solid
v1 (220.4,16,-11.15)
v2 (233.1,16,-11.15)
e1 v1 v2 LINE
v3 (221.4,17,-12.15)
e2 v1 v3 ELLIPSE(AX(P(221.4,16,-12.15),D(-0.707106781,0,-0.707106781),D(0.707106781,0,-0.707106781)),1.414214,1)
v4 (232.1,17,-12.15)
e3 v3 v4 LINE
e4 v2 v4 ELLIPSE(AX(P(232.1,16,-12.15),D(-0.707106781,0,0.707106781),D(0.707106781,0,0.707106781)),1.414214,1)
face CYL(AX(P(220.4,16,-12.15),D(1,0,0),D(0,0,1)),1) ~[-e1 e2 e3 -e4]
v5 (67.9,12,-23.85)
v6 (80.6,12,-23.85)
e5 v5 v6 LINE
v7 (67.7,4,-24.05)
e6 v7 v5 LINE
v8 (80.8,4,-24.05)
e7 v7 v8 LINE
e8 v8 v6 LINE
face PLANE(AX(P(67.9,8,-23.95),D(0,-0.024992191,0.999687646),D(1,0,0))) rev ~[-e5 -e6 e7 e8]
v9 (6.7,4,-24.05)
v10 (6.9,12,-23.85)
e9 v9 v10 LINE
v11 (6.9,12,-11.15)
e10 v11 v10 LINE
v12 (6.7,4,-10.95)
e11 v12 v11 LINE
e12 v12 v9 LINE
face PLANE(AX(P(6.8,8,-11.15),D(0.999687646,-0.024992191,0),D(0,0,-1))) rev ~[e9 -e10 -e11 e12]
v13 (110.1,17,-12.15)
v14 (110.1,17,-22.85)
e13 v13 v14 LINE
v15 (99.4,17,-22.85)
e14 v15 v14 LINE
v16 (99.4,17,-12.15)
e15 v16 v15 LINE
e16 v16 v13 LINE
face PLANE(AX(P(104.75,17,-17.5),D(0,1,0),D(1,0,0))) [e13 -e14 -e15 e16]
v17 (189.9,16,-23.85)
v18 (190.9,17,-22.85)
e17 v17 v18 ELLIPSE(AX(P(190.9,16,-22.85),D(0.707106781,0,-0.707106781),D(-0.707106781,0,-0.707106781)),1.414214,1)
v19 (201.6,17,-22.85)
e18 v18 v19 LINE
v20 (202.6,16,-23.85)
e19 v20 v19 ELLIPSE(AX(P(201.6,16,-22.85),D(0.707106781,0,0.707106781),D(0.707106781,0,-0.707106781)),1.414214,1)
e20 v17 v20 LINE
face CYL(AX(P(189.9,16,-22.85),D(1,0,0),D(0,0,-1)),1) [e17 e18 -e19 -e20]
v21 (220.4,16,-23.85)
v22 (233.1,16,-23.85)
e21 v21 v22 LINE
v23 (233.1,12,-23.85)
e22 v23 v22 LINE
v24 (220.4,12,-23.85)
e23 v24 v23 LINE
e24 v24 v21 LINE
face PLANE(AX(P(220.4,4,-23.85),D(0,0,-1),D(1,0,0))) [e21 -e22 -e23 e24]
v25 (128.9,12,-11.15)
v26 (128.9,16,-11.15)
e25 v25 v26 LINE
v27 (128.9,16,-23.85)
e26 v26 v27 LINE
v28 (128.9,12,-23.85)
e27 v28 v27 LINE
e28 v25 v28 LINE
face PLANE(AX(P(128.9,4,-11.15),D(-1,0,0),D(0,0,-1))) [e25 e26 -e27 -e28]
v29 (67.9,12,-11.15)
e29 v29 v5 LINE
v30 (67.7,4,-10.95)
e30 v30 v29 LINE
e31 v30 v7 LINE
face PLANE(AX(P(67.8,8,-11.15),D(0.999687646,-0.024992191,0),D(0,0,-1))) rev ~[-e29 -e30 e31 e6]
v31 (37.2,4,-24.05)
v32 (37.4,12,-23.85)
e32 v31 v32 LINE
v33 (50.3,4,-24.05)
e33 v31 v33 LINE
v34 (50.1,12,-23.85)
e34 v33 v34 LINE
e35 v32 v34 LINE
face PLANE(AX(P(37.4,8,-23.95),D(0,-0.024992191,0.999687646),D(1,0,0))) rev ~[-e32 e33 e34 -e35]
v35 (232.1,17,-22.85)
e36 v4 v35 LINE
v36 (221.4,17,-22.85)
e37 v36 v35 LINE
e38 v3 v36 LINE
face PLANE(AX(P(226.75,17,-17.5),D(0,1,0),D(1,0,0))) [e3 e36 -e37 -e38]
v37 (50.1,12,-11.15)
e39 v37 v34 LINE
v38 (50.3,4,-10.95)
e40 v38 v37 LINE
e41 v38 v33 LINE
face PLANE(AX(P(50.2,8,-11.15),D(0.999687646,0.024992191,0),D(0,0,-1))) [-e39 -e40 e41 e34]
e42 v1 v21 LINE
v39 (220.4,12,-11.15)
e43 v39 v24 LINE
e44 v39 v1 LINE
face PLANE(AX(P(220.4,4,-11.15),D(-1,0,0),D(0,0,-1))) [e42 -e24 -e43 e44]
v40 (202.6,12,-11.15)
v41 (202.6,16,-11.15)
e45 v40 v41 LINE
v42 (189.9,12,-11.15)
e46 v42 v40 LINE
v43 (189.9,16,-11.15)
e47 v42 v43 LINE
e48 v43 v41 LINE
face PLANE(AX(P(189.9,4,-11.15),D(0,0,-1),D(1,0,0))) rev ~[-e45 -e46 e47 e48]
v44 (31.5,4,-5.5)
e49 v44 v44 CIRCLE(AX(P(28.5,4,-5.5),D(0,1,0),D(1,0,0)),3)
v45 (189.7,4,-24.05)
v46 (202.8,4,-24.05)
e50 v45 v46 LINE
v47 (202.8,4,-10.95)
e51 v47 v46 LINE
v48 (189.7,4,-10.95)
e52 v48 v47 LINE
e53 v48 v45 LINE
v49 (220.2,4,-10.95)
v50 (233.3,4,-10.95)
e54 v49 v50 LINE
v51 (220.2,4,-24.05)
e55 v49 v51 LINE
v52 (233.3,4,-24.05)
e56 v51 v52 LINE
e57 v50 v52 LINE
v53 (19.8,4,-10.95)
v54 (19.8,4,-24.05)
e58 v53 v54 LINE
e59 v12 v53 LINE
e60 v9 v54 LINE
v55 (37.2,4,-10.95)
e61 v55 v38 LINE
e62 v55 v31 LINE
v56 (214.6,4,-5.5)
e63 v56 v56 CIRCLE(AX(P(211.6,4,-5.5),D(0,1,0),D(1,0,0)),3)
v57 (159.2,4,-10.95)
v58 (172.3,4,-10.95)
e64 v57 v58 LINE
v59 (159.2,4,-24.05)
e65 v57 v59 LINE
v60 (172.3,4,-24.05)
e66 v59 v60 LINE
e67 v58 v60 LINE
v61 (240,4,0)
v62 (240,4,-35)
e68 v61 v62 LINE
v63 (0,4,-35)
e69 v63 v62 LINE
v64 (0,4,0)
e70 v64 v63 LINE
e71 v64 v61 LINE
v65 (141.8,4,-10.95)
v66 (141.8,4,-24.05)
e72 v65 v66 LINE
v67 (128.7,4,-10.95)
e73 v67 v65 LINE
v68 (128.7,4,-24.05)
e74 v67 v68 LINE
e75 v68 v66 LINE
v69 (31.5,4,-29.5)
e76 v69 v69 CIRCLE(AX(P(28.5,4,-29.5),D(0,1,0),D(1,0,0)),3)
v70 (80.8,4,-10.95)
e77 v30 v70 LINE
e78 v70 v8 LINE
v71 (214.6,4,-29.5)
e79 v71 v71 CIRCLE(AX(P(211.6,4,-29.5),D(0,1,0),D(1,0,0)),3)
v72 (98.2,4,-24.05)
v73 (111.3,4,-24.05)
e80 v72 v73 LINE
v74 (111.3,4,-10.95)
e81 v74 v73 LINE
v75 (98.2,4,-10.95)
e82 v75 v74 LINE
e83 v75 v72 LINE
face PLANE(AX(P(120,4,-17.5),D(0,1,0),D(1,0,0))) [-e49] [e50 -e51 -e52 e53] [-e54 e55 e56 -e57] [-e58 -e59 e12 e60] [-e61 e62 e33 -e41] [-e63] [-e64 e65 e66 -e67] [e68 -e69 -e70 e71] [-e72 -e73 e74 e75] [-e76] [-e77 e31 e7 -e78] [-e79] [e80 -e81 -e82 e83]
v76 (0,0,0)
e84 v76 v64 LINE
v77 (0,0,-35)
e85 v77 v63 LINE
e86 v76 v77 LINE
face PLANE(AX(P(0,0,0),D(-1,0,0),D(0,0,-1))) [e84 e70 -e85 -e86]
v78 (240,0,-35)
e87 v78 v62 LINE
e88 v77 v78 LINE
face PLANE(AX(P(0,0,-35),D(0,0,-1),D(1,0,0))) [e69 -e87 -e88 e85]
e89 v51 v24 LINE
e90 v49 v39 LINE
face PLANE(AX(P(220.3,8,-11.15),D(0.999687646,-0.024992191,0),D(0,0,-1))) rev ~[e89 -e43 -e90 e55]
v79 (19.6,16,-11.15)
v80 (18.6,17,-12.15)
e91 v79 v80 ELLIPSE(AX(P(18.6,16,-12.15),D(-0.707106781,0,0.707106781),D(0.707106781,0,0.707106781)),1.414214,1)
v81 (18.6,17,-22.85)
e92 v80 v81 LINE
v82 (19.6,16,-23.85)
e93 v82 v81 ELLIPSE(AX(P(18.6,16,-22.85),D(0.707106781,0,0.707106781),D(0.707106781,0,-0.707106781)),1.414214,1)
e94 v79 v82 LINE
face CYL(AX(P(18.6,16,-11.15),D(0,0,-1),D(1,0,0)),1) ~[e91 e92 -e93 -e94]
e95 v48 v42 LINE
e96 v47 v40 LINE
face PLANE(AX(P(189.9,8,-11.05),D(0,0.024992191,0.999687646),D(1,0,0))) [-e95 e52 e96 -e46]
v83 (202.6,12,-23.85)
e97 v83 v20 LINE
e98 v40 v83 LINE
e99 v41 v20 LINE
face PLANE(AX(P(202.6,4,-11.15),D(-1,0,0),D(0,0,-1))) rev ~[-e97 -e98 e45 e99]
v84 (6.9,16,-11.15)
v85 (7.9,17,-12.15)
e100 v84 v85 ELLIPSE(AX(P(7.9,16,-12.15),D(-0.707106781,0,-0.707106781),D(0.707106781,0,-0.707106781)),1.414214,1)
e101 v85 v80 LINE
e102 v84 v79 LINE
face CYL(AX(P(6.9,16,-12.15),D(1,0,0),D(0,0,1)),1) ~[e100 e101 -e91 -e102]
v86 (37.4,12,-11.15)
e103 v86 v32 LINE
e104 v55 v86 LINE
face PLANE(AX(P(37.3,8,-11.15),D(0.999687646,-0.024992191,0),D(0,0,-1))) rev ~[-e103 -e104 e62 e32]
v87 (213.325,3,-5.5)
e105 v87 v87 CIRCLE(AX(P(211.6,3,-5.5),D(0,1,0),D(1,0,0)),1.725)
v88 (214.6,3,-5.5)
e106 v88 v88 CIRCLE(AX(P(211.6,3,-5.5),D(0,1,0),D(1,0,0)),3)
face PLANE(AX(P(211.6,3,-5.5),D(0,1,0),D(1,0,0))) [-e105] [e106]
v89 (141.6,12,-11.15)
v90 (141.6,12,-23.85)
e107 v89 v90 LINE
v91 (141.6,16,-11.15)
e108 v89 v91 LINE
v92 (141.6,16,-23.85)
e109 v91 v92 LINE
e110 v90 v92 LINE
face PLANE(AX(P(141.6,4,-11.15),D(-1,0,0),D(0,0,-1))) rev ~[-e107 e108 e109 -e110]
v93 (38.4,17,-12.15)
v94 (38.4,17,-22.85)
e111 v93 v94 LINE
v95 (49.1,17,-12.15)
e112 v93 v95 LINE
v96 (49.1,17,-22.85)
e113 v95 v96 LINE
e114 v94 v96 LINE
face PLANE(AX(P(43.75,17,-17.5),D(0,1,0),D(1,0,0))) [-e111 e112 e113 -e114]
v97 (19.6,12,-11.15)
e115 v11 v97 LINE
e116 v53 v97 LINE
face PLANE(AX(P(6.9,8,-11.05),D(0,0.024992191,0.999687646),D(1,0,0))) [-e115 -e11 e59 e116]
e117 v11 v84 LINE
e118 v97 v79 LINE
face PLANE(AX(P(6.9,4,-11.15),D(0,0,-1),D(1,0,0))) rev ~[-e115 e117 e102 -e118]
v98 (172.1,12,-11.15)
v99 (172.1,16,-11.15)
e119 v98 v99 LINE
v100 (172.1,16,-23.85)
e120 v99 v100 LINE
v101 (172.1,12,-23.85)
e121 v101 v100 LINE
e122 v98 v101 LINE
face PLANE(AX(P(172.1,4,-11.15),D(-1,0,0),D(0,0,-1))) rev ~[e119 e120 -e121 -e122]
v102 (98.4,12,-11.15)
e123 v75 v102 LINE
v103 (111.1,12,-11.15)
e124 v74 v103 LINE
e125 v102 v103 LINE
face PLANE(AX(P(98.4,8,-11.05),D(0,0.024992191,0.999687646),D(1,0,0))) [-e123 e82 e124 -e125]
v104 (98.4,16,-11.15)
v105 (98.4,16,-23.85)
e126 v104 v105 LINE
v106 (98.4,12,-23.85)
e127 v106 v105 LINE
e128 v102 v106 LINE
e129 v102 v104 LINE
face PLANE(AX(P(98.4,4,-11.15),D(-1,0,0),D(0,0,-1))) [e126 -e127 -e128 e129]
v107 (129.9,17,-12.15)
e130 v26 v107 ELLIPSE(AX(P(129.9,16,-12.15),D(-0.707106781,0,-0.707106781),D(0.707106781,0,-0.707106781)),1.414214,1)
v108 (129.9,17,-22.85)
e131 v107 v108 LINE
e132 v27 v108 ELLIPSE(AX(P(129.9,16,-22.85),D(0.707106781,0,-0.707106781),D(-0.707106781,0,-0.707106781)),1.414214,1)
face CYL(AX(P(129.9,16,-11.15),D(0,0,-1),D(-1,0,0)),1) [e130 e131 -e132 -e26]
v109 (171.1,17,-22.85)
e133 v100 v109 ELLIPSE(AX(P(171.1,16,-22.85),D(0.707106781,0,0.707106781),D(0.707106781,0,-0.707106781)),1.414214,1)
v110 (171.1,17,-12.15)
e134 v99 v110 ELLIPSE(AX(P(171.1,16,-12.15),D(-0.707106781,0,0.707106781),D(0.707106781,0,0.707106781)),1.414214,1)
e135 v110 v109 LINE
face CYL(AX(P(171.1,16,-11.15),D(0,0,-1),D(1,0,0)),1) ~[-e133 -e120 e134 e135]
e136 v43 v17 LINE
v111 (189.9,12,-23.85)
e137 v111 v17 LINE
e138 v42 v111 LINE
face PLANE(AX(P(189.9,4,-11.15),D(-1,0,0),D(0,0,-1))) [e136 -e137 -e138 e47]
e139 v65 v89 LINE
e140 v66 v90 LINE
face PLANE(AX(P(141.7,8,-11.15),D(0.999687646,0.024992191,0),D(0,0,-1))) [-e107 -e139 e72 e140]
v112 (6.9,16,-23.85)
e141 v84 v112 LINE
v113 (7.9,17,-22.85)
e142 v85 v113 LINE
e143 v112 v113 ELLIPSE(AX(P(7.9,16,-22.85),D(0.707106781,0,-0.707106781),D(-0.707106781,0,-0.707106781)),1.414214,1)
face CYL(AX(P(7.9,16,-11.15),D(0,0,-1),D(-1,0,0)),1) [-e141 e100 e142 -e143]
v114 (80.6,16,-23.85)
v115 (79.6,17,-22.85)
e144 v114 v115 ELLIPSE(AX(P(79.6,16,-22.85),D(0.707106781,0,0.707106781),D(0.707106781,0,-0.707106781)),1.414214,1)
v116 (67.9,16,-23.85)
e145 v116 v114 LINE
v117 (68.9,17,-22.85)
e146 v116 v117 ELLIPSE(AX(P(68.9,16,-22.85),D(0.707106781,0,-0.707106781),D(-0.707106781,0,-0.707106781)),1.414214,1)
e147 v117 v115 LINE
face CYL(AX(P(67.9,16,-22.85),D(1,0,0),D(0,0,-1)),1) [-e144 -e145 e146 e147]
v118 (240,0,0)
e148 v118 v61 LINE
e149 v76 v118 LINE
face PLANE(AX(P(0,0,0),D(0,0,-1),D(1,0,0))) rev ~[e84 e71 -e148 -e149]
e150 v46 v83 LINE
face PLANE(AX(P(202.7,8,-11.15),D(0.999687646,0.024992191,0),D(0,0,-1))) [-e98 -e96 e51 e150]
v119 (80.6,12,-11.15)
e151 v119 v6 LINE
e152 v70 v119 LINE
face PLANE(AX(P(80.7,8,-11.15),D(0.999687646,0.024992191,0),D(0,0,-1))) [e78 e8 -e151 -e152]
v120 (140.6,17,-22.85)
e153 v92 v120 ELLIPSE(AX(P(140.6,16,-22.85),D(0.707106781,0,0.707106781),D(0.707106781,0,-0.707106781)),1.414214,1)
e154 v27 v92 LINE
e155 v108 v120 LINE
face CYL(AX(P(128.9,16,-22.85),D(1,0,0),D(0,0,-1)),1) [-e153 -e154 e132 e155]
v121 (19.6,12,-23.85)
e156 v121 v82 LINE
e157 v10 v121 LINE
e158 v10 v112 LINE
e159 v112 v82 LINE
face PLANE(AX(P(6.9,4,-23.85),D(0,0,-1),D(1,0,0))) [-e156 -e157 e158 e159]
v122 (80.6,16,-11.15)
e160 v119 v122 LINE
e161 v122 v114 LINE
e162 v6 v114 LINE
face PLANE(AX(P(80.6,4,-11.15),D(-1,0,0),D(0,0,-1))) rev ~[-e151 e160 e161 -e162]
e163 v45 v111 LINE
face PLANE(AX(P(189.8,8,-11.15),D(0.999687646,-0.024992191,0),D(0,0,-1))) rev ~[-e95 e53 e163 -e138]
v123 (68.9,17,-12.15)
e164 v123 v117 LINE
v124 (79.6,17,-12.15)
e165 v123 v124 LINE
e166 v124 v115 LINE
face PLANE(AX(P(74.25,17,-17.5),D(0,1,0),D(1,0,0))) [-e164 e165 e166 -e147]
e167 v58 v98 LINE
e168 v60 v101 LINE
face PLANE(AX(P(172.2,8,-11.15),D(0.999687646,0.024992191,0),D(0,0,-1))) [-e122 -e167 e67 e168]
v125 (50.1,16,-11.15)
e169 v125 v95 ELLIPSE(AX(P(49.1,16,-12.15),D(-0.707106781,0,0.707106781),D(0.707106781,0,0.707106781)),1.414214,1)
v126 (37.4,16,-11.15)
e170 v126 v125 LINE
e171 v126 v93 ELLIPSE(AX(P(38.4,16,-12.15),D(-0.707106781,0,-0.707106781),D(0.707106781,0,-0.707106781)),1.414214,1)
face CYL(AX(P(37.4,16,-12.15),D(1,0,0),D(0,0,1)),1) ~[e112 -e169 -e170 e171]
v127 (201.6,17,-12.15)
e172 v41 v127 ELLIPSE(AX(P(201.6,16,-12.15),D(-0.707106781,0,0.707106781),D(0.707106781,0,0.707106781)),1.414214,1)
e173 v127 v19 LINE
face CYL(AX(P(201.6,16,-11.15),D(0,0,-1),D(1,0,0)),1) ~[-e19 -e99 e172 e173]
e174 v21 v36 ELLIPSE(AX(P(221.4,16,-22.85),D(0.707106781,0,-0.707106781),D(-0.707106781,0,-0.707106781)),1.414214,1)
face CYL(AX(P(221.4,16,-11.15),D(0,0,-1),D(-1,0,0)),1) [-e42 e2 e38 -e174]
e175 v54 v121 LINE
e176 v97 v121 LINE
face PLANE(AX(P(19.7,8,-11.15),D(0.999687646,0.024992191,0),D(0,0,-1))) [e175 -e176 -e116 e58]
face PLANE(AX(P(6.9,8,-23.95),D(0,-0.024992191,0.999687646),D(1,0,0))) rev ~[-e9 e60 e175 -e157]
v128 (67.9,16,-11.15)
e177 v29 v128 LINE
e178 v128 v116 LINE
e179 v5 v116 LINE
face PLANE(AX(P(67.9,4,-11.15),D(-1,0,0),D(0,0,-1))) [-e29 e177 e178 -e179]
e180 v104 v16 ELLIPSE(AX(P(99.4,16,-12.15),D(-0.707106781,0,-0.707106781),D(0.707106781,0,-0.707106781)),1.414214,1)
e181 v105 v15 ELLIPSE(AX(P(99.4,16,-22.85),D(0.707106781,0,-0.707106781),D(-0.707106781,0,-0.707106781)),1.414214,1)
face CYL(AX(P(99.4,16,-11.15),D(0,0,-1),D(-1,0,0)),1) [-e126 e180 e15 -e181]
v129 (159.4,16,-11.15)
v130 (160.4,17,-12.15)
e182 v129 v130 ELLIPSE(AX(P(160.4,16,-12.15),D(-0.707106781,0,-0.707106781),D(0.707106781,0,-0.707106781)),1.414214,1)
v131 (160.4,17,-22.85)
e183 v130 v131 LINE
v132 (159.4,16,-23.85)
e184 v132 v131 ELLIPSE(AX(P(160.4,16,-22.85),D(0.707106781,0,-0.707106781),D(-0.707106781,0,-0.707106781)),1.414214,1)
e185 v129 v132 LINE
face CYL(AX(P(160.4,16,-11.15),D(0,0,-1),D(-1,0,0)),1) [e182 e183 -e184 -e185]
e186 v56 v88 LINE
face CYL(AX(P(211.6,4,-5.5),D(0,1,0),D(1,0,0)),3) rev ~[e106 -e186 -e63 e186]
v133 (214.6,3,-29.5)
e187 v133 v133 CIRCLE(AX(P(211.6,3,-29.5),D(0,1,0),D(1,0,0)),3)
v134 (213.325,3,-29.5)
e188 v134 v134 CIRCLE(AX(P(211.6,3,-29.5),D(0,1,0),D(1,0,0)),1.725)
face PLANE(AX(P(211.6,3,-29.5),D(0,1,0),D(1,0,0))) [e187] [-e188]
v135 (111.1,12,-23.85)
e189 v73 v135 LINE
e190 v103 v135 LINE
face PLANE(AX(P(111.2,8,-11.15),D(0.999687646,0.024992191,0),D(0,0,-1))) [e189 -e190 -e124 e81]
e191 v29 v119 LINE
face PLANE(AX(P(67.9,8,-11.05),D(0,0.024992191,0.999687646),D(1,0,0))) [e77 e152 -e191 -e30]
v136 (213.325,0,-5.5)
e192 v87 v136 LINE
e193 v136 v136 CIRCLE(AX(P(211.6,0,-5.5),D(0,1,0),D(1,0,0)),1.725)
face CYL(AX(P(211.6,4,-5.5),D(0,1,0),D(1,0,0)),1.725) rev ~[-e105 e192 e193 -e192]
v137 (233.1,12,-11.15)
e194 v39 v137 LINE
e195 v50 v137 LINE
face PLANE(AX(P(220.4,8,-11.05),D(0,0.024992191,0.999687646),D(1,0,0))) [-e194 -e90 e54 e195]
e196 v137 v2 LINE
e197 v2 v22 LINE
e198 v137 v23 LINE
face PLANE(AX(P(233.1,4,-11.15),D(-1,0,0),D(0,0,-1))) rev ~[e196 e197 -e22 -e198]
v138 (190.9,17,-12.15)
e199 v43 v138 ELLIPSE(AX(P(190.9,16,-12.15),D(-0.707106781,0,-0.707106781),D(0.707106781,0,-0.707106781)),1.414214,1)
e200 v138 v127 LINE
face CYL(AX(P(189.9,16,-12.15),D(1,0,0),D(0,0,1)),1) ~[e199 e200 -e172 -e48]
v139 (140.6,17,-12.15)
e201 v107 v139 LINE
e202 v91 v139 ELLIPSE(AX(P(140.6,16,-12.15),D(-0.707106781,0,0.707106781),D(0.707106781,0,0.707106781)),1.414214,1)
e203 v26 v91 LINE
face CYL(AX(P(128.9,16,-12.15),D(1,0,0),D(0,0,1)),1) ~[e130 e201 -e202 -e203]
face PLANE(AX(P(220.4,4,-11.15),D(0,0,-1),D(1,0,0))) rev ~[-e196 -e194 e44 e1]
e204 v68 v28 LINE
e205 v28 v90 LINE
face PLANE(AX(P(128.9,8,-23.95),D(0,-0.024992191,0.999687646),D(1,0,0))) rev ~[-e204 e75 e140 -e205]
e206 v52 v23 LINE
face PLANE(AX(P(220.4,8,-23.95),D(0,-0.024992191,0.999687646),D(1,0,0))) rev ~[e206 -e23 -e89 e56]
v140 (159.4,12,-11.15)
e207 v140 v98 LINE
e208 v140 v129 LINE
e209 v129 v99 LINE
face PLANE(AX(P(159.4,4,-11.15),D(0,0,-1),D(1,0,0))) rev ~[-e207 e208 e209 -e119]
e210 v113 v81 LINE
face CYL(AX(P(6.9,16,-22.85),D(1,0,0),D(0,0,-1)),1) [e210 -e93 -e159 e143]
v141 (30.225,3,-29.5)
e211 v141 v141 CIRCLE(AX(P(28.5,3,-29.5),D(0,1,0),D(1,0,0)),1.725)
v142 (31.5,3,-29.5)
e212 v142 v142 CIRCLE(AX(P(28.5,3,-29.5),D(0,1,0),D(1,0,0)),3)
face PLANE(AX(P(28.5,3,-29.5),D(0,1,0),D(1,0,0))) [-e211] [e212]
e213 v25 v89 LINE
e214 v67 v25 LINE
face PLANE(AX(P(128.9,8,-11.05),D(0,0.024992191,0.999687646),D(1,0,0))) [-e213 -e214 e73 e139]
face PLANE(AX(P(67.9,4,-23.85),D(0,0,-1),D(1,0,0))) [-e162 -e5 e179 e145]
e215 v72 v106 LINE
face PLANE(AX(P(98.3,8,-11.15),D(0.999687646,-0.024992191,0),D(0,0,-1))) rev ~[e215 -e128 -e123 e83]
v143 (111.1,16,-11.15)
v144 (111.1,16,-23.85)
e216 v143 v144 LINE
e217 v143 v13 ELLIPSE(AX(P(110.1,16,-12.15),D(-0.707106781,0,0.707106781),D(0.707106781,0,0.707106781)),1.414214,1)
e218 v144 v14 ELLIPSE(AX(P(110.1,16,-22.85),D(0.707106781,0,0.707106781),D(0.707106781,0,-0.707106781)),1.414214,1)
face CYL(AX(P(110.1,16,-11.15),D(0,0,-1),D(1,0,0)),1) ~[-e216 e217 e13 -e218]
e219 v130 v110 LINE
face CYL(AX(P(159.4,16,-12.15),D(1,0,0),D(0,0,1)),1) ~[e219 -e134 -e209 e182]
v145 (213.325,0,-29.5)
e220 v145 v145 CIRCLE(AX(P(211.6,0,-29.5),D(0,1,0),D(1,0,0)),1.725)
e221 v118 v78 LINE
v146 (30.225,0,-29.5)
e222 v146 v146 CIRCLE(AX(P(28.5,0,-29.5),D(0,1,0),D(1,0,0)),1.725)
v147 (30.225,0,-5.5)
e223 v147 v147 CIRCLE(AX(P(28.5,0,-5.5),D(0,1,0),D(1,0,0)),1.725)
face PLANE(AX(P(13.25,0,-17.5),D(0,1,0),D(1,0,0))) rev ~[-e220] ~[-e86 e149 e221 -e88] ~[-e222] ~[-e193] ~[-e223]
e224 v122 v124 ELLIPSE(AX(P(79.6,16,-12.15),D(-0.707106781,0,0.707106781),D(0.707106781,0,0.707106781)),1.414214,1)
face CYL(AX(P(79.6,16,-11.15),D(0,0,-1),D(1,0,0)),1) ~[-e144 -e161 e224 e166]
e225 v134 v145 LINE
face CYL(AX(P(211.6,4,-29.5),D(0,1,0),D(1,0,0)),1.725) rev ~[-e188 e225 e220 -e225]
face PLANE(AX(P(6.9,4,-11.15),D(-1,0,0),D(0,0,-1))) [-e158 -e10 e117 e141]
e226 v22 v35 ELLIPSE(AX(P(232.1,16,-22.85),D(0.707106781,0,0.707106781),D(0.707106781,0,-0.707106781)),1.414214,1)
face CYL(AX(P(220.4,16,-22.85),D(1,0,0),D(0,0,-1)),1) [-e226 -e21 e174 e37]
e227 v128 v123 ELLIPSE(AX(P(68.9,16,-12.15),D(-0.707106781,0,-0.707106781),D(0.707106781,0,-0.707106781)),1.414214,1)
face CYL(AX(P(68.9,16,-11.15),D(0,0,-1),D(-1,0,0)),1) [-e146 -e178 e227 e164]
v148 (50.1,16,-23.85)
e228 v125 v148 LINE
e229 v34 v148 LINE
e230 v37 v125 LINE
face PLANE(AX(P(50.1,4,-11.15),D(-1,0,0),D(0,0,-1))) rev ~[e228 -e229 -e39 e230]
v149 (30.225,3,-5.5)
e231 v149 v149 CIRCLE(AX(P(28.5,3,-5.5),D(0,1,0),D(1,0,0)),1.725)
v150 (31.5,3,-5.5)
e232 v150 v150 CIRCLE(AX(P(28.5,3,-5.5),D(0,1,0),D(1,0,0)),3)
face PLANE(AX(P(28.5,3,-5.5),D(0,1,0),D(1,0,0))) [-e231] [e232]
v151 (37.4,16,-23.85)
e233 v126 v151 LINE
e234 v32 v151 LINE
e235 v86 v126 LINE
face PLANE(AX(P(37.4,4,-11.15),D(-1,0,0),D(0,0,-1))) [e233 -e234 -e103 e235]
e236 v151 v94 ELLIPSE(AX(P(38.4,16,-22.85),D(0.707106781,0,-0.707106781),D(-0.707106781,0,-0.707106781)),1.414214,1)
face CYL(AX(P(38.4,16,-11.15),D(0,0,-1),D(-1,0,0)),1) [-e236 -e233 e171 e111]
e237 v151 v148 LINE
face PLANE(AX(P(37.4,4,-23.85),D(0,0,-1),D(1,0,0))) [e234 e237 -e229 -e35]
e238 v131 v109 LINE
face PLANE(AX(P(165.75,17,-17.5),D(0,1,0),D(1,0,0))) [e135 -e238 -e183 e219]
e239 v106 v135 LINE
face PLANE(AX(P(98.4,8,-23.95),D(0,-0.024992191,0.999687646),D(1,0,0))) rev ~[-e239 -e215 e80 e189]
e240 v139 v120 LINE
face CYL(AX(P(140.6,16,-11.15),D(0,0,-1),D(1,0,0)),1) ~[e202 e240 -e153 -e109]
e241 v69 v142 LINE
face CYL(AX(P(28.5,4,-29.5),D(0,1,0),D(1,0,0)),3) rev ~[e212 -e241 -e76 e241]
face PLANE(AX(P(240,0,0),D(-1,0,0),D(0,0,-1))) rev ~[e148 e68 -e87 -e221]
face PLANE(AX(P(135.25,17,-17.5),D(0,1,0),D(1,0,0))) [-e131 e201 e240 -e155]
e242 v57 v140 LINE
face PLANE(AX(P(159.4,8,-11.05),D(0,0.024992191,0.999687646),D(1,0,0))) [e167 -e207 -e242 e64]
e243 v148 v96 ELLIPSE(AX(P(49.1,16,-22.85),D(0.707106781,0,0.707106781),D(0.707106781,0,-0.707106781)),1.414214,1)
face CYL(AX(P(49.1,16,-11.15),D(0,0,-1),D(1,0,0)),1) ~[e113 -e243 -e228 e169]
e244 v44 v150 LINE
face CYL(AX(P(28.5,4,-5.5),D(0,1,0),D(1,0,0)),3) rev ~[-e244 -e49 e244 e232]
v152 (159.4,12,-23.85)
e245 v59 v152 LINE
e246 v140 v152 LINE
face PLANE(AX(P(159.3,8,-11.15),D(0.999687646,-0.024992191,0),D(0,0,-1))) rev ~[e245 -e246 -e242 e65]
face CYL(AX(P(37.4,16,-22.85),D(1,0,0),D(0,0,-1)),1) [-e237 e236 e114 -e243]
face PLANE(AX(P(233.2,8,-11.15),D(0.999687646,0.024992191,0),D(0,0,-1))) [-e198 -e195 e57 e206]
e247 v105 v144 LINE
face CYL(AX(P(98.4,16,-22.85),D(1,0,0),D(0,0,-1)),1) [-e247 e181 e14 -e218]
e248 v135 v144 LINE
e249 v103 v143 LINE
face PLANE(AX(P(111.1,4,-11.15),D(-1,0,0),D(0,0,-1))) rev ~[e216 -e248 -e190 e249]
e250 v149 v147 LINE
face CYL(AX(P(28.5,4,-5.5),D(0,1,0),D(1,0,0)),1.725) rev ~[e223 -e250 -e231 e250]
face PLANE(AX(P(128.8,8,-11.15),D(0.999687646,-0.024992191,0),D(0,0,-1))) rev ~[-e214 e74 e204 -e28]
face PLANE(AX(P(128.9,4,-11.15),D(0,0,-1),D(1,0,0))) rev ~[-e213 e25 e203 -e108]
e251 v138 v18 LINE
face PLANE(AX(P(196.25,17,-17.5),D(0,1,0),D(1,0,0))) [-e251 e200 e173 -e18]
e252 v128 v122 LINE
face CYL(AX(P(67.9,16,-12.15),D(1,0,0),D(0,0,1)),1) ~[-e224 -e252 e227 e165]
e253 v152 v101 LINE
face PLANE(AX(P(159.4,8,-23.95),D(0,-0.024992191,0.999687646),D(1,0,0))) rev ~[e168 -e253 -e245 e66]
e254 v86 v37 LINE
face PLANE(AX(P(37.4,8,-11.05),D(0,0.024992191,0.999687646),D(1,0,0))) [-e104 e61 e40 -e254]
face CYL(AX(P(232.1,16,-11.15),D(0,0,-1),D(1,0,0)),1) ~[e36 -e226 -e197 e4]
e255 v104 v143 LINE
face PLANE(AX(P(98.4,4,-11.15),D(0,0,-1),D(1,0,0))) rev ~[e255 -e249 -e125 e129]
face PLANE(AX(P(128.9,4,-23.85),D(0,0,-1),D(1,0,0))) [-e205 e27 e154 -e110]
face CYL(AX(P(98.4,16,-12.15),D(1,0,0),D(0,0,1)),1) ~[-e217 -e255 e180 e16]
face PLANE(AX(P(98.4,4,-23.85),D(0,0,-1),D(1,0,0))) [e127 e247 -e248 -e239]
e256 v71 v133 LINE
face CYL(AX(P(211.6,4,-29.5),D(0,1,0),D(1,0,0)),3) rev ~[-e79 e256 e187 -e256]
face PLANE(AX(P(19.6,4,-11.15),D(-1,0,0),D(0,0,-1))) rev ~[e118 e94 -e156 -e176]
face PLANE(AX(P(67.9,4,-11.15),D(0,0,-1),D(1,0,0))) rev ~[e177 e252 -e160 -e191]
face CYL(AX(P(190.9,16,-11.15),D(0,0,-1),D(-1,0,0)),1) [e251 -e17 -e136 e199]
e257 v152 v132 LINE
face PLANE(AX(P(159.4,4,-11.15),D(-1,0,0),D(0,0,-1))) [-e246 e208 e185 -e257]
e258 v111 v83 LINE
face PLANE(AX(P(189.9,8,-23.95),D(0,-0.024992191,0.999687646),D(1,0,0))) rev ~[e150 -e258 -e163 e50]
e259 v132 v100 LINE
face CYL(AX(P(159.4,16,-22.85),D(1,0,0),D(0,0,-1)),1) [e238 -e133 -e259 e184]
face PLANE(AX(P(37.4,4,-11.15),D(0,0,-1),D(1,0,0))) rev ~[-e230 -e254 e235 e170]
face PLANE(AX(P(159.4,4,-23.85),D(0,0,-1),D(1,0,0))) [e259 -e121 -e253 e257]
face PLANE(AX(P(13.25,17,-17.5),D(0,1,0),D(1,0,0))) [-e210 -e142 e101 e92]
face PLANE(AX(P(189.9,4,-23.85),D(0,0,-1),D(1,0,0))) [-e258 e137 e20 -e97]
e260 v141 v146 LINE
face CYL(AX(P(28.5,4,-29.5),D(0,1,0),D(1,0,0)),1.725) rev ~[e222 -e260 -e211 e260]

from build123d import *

# Parameters (mm, degrees)
SKETCH1_W                = 240
SKETCH1_H                = 35
SKETCH1_W_2              = 12.7
SKETCH1_H_2              = 12.7
BOSS_EXTRUDE1_DEPTH      = 4
SKETCH2_W                = 12.7
SKETCH2_H                = 12.7
BOSS_EXTRUDE2_DEPTH      = 13
BOSS_EXTRUDE2_DEPTH_BACK = 4
CHAMFER1_SIZE            = 0.2
CHAMFER1_SIZE2           = 8
SKETCH3_R                = 1.725
CUT_EXTRUDE1_DEPTH       = 5
SKETCH4_R                = 3
CUT_EXTRUDE2_DEPTH       = 1
FILLET1_R                = 1


with BuildPart() as part:
    # Sketch1 → Boss-Extrude1 (new body)
    with BuildSketch(Plane(origin=(0, 0, 0), x_dir=(1, 0, 0), z_dir=(0, 1, 0))):
        with Locations((120, 17.5)):
            Rectangle(SKETCH1_W, SKETCH1_H)
        with Locations((13.25, 17.5)):
            Rectangle(SKETCH1_W_2, SKETCH1_H_2, mode=Mode.SUBTRACT)
        with Locations((43.75, 17.5)):
            Rectangle(SKETCH1_W_2, SKETCH1_H_2, mode=Mode.SUBTRACT)
        with Locations((74.25, 17.5)):
            Rectangle(SKETCH1_W_2, SKETCH1_H_2, mode=Mode.SUBTRACT)
        with Locations((104.75, 17.5)):
            Rectangle(SKETCH1_W_2, SKETCH1_H_2, mode=Mode.SUBTRACT)
        with Locations((135.25, 17.5)):
            Rectangle(SKETCH1_W_2, SKETCH1_H_2, mode=Mode.SUBTRACT)
        with Locations((165.75, 17.5)):
            Rectangle(SKETCH1_W_2, SKETCH1_H_2, mode=Mode.SUBTRACT)
        with Locations((196.25, 17.5)):
            Rectangle(SKETCH1_W_2, SKETCH1_H_2, mode=Mode.SUBTRACT)
        with Locations((226.75, 17.5)):
            Rectangle(SKETCH1_W_2, SKETCH1_H_2, mode=Mode.SUBTRACT)
    extrude(amount=BOSS_EXTRUDE1_DEPTH)

    # Sketch2 → Boss-Extrude2 (add, two sides)
    with BuildSketch(Plane(origin=(0, 4, 0), x_dir=(1, 0, 0), z_dir=(0, 1, 0))) as boss_extrude2_sk:
        with Locations((13.25, 17.5)):
            Rectangle(SKETCH2_W, SKETCH2_H)
        with Locations((43.75, 17.5)):
            Rectangle(SKETCH2_W, SKETCH2_H)
        with Locations((74.25, 17.5)):
            Rectangle(SKETCH2_W, SKETCH2_H)
        with Locations((104.75, 17.5)):
            Rectangle(SKETCH2_W, SKETCH2_H)
        with Locations((135.25, 17.5)):
            Rectangle(SKETCH2_W, SKETCH2_H)
        with Locations((165.75, 17.5)):
            Rectangle(SKETCH2_W, SKETCH2_H)
        with Locations((196.25, 17.5)):
            Rectangle(SKETCH2_W, SKETCH2_H)
        with Locations((226.75, 17.5)):
            Rectangle(SKETCH2_W, SKETCH2_H)
    extrude(amount=BOSS_EXTRUDE2_DEPTH)
    extrude(boss_extrude2_sk.sketch, amount=-BOSS_EXTRUDE2_DEPTH_BACK)

    # Chamfer1
    chamfer1_edges = [part.edges().sort_by_distance(p)[0] for p in [
        (189.9, 4, -17.5),
        (196.25, 4, -11.15),
        (202.6, 4, -17.5),
        (196.25, 4, -23.85),
        (6.9, 4, -17.5),
        (13.25, 4, -11.15),
        (19.6, 4, -17.5),
        (13.25, 4, -23.85),
        (67.9, 4, -17.5),
        (74.25, 4, -11.15),
        (80.6, 4, -17.5),
        (74.25, 4, -23.85),
        (37.4, 4, -17.5),
        (43.75, 4, -11.15),
        (50.1, 4, -17.5),
        (43.75, 4, -23.85),
        (98.4, 4, -17.5),
        (104.75, 4, -11.15),
        (111.1, 4, -17.5),
        (104.75, 4, -23.85),
        (128.9, 4, -17.5),
        (135.25, 4, -11.15),
        (141.6, 4, -17.5),
        (135.25, 4, -23.85),
        (159.4, 4, -17.5),
        (165.75, 4, -11.15),
        (172.1, 4, -17.5),
        (165.75, 4, -23.85),
        (220.4, 4, -17.5),
        (226.75, 4, -11.15),
        (233.1, 4, -17.5),
        (226.75, 4, -23.85),
    ]]
    chamfer1_side = [part.faces().sort_by_distance(p)[0] for p in [
        (120, 4, -17.5),
    ]]
    chamfer(chamfer1_edges, length=CHAMFER1_SIZE, length2=CHAMFER1_SIZE2, reference=chamfer1_side[0])

    # Sketch3 → Cut-Extrude1 (cut, through all)
    with BuildSketch(Plane(origin=(0, 4, 0), x_dir=(1, 0, 0), z_dir=(0, 1, 0))):
        with Locations((28.5, 5.5)):
            Circle(SKETCH3_R)
        with Locations((28.5, 29.5)):
            Circle(SKETCH3_R)
        with Locations((211.6, 29.5)):
            Circle(SKETCH3_R)
        with Locations((211.6, 5.5)):
            Circle(SKETCH3_R)
    extrude(amount=-CUT_EXTRUDE1_DEPTH, mode=Mode.SUBTRACT)

    # Sketch4 → Cut-Extrude2 (cut)
    with BuildSketch(Plane(origin=(0, 4, 0), x_dir=(1, 0, 0), z_dir=(0, 1, 0))):
        with Locations((28.5, 29.5)):
            Circle(SKETCH4_R)
        with Locations((28.5, 5.5)):
            Circle(SKETCH4_R)
        with Locations((211.6, 5.5)):
            Circle(SKETCH4_R)
        with Locations((211.6, 29.5)):
            Circle(SKETCH4_R)
    extrude(amount=-CUT_EXTRUDE2_DEPTH, mode=Mode.SUBTRACT)

    # Fillet1
    fillet1_edges = [part.edges().sort_by_distance(p)[0] for p in [
        (6.9, 17, -17.5),
        (13.25, 17, -11.15),
        (19.6, 17, -17.5),
        (13.25, 17, -23.85),
        (37.4, 17, -17.5),
        (43.75, 17, -11.15),
        (50.1, 17, -17.5),
        (43.75, 17, -23.85),
        (67.9, 17, -17.5),
        (74.25, 17, -11.15),
        (80.6, 17, -17.5),
        (74.25, 17, -23.85),
        (98.4, 17, -17.5),
        (104.75, 17, -11.15),
        (111.1, 17, -17.5),
        (104.75, 17, -23.85),
        (128.9, 17, -17.5),
        (135.25, 17, -11.15),
        (141.6, 17, -17.5),
        (135.25, 17, -23.85),
        (159.4, 17, -17.5),
        (165.75, 17, -11.15),
        (172.1, 17, -17.5),
        (165.75, 17, -23.85),
        (189.9, 17, -17.5),
        (196.25, 17, -11.15),
        (202.6, 17, -17.5),
        (196.25, 17, -23.85),
        (220.4, 17, -17.5),
        (226.75, 17, -11.15),
        (233.1, 17, -17.5),
        (226.75, 17, -23.85),
    ]]
    fillet(fillet1_edges, radius=FILLET1_R)


solid = part.part
